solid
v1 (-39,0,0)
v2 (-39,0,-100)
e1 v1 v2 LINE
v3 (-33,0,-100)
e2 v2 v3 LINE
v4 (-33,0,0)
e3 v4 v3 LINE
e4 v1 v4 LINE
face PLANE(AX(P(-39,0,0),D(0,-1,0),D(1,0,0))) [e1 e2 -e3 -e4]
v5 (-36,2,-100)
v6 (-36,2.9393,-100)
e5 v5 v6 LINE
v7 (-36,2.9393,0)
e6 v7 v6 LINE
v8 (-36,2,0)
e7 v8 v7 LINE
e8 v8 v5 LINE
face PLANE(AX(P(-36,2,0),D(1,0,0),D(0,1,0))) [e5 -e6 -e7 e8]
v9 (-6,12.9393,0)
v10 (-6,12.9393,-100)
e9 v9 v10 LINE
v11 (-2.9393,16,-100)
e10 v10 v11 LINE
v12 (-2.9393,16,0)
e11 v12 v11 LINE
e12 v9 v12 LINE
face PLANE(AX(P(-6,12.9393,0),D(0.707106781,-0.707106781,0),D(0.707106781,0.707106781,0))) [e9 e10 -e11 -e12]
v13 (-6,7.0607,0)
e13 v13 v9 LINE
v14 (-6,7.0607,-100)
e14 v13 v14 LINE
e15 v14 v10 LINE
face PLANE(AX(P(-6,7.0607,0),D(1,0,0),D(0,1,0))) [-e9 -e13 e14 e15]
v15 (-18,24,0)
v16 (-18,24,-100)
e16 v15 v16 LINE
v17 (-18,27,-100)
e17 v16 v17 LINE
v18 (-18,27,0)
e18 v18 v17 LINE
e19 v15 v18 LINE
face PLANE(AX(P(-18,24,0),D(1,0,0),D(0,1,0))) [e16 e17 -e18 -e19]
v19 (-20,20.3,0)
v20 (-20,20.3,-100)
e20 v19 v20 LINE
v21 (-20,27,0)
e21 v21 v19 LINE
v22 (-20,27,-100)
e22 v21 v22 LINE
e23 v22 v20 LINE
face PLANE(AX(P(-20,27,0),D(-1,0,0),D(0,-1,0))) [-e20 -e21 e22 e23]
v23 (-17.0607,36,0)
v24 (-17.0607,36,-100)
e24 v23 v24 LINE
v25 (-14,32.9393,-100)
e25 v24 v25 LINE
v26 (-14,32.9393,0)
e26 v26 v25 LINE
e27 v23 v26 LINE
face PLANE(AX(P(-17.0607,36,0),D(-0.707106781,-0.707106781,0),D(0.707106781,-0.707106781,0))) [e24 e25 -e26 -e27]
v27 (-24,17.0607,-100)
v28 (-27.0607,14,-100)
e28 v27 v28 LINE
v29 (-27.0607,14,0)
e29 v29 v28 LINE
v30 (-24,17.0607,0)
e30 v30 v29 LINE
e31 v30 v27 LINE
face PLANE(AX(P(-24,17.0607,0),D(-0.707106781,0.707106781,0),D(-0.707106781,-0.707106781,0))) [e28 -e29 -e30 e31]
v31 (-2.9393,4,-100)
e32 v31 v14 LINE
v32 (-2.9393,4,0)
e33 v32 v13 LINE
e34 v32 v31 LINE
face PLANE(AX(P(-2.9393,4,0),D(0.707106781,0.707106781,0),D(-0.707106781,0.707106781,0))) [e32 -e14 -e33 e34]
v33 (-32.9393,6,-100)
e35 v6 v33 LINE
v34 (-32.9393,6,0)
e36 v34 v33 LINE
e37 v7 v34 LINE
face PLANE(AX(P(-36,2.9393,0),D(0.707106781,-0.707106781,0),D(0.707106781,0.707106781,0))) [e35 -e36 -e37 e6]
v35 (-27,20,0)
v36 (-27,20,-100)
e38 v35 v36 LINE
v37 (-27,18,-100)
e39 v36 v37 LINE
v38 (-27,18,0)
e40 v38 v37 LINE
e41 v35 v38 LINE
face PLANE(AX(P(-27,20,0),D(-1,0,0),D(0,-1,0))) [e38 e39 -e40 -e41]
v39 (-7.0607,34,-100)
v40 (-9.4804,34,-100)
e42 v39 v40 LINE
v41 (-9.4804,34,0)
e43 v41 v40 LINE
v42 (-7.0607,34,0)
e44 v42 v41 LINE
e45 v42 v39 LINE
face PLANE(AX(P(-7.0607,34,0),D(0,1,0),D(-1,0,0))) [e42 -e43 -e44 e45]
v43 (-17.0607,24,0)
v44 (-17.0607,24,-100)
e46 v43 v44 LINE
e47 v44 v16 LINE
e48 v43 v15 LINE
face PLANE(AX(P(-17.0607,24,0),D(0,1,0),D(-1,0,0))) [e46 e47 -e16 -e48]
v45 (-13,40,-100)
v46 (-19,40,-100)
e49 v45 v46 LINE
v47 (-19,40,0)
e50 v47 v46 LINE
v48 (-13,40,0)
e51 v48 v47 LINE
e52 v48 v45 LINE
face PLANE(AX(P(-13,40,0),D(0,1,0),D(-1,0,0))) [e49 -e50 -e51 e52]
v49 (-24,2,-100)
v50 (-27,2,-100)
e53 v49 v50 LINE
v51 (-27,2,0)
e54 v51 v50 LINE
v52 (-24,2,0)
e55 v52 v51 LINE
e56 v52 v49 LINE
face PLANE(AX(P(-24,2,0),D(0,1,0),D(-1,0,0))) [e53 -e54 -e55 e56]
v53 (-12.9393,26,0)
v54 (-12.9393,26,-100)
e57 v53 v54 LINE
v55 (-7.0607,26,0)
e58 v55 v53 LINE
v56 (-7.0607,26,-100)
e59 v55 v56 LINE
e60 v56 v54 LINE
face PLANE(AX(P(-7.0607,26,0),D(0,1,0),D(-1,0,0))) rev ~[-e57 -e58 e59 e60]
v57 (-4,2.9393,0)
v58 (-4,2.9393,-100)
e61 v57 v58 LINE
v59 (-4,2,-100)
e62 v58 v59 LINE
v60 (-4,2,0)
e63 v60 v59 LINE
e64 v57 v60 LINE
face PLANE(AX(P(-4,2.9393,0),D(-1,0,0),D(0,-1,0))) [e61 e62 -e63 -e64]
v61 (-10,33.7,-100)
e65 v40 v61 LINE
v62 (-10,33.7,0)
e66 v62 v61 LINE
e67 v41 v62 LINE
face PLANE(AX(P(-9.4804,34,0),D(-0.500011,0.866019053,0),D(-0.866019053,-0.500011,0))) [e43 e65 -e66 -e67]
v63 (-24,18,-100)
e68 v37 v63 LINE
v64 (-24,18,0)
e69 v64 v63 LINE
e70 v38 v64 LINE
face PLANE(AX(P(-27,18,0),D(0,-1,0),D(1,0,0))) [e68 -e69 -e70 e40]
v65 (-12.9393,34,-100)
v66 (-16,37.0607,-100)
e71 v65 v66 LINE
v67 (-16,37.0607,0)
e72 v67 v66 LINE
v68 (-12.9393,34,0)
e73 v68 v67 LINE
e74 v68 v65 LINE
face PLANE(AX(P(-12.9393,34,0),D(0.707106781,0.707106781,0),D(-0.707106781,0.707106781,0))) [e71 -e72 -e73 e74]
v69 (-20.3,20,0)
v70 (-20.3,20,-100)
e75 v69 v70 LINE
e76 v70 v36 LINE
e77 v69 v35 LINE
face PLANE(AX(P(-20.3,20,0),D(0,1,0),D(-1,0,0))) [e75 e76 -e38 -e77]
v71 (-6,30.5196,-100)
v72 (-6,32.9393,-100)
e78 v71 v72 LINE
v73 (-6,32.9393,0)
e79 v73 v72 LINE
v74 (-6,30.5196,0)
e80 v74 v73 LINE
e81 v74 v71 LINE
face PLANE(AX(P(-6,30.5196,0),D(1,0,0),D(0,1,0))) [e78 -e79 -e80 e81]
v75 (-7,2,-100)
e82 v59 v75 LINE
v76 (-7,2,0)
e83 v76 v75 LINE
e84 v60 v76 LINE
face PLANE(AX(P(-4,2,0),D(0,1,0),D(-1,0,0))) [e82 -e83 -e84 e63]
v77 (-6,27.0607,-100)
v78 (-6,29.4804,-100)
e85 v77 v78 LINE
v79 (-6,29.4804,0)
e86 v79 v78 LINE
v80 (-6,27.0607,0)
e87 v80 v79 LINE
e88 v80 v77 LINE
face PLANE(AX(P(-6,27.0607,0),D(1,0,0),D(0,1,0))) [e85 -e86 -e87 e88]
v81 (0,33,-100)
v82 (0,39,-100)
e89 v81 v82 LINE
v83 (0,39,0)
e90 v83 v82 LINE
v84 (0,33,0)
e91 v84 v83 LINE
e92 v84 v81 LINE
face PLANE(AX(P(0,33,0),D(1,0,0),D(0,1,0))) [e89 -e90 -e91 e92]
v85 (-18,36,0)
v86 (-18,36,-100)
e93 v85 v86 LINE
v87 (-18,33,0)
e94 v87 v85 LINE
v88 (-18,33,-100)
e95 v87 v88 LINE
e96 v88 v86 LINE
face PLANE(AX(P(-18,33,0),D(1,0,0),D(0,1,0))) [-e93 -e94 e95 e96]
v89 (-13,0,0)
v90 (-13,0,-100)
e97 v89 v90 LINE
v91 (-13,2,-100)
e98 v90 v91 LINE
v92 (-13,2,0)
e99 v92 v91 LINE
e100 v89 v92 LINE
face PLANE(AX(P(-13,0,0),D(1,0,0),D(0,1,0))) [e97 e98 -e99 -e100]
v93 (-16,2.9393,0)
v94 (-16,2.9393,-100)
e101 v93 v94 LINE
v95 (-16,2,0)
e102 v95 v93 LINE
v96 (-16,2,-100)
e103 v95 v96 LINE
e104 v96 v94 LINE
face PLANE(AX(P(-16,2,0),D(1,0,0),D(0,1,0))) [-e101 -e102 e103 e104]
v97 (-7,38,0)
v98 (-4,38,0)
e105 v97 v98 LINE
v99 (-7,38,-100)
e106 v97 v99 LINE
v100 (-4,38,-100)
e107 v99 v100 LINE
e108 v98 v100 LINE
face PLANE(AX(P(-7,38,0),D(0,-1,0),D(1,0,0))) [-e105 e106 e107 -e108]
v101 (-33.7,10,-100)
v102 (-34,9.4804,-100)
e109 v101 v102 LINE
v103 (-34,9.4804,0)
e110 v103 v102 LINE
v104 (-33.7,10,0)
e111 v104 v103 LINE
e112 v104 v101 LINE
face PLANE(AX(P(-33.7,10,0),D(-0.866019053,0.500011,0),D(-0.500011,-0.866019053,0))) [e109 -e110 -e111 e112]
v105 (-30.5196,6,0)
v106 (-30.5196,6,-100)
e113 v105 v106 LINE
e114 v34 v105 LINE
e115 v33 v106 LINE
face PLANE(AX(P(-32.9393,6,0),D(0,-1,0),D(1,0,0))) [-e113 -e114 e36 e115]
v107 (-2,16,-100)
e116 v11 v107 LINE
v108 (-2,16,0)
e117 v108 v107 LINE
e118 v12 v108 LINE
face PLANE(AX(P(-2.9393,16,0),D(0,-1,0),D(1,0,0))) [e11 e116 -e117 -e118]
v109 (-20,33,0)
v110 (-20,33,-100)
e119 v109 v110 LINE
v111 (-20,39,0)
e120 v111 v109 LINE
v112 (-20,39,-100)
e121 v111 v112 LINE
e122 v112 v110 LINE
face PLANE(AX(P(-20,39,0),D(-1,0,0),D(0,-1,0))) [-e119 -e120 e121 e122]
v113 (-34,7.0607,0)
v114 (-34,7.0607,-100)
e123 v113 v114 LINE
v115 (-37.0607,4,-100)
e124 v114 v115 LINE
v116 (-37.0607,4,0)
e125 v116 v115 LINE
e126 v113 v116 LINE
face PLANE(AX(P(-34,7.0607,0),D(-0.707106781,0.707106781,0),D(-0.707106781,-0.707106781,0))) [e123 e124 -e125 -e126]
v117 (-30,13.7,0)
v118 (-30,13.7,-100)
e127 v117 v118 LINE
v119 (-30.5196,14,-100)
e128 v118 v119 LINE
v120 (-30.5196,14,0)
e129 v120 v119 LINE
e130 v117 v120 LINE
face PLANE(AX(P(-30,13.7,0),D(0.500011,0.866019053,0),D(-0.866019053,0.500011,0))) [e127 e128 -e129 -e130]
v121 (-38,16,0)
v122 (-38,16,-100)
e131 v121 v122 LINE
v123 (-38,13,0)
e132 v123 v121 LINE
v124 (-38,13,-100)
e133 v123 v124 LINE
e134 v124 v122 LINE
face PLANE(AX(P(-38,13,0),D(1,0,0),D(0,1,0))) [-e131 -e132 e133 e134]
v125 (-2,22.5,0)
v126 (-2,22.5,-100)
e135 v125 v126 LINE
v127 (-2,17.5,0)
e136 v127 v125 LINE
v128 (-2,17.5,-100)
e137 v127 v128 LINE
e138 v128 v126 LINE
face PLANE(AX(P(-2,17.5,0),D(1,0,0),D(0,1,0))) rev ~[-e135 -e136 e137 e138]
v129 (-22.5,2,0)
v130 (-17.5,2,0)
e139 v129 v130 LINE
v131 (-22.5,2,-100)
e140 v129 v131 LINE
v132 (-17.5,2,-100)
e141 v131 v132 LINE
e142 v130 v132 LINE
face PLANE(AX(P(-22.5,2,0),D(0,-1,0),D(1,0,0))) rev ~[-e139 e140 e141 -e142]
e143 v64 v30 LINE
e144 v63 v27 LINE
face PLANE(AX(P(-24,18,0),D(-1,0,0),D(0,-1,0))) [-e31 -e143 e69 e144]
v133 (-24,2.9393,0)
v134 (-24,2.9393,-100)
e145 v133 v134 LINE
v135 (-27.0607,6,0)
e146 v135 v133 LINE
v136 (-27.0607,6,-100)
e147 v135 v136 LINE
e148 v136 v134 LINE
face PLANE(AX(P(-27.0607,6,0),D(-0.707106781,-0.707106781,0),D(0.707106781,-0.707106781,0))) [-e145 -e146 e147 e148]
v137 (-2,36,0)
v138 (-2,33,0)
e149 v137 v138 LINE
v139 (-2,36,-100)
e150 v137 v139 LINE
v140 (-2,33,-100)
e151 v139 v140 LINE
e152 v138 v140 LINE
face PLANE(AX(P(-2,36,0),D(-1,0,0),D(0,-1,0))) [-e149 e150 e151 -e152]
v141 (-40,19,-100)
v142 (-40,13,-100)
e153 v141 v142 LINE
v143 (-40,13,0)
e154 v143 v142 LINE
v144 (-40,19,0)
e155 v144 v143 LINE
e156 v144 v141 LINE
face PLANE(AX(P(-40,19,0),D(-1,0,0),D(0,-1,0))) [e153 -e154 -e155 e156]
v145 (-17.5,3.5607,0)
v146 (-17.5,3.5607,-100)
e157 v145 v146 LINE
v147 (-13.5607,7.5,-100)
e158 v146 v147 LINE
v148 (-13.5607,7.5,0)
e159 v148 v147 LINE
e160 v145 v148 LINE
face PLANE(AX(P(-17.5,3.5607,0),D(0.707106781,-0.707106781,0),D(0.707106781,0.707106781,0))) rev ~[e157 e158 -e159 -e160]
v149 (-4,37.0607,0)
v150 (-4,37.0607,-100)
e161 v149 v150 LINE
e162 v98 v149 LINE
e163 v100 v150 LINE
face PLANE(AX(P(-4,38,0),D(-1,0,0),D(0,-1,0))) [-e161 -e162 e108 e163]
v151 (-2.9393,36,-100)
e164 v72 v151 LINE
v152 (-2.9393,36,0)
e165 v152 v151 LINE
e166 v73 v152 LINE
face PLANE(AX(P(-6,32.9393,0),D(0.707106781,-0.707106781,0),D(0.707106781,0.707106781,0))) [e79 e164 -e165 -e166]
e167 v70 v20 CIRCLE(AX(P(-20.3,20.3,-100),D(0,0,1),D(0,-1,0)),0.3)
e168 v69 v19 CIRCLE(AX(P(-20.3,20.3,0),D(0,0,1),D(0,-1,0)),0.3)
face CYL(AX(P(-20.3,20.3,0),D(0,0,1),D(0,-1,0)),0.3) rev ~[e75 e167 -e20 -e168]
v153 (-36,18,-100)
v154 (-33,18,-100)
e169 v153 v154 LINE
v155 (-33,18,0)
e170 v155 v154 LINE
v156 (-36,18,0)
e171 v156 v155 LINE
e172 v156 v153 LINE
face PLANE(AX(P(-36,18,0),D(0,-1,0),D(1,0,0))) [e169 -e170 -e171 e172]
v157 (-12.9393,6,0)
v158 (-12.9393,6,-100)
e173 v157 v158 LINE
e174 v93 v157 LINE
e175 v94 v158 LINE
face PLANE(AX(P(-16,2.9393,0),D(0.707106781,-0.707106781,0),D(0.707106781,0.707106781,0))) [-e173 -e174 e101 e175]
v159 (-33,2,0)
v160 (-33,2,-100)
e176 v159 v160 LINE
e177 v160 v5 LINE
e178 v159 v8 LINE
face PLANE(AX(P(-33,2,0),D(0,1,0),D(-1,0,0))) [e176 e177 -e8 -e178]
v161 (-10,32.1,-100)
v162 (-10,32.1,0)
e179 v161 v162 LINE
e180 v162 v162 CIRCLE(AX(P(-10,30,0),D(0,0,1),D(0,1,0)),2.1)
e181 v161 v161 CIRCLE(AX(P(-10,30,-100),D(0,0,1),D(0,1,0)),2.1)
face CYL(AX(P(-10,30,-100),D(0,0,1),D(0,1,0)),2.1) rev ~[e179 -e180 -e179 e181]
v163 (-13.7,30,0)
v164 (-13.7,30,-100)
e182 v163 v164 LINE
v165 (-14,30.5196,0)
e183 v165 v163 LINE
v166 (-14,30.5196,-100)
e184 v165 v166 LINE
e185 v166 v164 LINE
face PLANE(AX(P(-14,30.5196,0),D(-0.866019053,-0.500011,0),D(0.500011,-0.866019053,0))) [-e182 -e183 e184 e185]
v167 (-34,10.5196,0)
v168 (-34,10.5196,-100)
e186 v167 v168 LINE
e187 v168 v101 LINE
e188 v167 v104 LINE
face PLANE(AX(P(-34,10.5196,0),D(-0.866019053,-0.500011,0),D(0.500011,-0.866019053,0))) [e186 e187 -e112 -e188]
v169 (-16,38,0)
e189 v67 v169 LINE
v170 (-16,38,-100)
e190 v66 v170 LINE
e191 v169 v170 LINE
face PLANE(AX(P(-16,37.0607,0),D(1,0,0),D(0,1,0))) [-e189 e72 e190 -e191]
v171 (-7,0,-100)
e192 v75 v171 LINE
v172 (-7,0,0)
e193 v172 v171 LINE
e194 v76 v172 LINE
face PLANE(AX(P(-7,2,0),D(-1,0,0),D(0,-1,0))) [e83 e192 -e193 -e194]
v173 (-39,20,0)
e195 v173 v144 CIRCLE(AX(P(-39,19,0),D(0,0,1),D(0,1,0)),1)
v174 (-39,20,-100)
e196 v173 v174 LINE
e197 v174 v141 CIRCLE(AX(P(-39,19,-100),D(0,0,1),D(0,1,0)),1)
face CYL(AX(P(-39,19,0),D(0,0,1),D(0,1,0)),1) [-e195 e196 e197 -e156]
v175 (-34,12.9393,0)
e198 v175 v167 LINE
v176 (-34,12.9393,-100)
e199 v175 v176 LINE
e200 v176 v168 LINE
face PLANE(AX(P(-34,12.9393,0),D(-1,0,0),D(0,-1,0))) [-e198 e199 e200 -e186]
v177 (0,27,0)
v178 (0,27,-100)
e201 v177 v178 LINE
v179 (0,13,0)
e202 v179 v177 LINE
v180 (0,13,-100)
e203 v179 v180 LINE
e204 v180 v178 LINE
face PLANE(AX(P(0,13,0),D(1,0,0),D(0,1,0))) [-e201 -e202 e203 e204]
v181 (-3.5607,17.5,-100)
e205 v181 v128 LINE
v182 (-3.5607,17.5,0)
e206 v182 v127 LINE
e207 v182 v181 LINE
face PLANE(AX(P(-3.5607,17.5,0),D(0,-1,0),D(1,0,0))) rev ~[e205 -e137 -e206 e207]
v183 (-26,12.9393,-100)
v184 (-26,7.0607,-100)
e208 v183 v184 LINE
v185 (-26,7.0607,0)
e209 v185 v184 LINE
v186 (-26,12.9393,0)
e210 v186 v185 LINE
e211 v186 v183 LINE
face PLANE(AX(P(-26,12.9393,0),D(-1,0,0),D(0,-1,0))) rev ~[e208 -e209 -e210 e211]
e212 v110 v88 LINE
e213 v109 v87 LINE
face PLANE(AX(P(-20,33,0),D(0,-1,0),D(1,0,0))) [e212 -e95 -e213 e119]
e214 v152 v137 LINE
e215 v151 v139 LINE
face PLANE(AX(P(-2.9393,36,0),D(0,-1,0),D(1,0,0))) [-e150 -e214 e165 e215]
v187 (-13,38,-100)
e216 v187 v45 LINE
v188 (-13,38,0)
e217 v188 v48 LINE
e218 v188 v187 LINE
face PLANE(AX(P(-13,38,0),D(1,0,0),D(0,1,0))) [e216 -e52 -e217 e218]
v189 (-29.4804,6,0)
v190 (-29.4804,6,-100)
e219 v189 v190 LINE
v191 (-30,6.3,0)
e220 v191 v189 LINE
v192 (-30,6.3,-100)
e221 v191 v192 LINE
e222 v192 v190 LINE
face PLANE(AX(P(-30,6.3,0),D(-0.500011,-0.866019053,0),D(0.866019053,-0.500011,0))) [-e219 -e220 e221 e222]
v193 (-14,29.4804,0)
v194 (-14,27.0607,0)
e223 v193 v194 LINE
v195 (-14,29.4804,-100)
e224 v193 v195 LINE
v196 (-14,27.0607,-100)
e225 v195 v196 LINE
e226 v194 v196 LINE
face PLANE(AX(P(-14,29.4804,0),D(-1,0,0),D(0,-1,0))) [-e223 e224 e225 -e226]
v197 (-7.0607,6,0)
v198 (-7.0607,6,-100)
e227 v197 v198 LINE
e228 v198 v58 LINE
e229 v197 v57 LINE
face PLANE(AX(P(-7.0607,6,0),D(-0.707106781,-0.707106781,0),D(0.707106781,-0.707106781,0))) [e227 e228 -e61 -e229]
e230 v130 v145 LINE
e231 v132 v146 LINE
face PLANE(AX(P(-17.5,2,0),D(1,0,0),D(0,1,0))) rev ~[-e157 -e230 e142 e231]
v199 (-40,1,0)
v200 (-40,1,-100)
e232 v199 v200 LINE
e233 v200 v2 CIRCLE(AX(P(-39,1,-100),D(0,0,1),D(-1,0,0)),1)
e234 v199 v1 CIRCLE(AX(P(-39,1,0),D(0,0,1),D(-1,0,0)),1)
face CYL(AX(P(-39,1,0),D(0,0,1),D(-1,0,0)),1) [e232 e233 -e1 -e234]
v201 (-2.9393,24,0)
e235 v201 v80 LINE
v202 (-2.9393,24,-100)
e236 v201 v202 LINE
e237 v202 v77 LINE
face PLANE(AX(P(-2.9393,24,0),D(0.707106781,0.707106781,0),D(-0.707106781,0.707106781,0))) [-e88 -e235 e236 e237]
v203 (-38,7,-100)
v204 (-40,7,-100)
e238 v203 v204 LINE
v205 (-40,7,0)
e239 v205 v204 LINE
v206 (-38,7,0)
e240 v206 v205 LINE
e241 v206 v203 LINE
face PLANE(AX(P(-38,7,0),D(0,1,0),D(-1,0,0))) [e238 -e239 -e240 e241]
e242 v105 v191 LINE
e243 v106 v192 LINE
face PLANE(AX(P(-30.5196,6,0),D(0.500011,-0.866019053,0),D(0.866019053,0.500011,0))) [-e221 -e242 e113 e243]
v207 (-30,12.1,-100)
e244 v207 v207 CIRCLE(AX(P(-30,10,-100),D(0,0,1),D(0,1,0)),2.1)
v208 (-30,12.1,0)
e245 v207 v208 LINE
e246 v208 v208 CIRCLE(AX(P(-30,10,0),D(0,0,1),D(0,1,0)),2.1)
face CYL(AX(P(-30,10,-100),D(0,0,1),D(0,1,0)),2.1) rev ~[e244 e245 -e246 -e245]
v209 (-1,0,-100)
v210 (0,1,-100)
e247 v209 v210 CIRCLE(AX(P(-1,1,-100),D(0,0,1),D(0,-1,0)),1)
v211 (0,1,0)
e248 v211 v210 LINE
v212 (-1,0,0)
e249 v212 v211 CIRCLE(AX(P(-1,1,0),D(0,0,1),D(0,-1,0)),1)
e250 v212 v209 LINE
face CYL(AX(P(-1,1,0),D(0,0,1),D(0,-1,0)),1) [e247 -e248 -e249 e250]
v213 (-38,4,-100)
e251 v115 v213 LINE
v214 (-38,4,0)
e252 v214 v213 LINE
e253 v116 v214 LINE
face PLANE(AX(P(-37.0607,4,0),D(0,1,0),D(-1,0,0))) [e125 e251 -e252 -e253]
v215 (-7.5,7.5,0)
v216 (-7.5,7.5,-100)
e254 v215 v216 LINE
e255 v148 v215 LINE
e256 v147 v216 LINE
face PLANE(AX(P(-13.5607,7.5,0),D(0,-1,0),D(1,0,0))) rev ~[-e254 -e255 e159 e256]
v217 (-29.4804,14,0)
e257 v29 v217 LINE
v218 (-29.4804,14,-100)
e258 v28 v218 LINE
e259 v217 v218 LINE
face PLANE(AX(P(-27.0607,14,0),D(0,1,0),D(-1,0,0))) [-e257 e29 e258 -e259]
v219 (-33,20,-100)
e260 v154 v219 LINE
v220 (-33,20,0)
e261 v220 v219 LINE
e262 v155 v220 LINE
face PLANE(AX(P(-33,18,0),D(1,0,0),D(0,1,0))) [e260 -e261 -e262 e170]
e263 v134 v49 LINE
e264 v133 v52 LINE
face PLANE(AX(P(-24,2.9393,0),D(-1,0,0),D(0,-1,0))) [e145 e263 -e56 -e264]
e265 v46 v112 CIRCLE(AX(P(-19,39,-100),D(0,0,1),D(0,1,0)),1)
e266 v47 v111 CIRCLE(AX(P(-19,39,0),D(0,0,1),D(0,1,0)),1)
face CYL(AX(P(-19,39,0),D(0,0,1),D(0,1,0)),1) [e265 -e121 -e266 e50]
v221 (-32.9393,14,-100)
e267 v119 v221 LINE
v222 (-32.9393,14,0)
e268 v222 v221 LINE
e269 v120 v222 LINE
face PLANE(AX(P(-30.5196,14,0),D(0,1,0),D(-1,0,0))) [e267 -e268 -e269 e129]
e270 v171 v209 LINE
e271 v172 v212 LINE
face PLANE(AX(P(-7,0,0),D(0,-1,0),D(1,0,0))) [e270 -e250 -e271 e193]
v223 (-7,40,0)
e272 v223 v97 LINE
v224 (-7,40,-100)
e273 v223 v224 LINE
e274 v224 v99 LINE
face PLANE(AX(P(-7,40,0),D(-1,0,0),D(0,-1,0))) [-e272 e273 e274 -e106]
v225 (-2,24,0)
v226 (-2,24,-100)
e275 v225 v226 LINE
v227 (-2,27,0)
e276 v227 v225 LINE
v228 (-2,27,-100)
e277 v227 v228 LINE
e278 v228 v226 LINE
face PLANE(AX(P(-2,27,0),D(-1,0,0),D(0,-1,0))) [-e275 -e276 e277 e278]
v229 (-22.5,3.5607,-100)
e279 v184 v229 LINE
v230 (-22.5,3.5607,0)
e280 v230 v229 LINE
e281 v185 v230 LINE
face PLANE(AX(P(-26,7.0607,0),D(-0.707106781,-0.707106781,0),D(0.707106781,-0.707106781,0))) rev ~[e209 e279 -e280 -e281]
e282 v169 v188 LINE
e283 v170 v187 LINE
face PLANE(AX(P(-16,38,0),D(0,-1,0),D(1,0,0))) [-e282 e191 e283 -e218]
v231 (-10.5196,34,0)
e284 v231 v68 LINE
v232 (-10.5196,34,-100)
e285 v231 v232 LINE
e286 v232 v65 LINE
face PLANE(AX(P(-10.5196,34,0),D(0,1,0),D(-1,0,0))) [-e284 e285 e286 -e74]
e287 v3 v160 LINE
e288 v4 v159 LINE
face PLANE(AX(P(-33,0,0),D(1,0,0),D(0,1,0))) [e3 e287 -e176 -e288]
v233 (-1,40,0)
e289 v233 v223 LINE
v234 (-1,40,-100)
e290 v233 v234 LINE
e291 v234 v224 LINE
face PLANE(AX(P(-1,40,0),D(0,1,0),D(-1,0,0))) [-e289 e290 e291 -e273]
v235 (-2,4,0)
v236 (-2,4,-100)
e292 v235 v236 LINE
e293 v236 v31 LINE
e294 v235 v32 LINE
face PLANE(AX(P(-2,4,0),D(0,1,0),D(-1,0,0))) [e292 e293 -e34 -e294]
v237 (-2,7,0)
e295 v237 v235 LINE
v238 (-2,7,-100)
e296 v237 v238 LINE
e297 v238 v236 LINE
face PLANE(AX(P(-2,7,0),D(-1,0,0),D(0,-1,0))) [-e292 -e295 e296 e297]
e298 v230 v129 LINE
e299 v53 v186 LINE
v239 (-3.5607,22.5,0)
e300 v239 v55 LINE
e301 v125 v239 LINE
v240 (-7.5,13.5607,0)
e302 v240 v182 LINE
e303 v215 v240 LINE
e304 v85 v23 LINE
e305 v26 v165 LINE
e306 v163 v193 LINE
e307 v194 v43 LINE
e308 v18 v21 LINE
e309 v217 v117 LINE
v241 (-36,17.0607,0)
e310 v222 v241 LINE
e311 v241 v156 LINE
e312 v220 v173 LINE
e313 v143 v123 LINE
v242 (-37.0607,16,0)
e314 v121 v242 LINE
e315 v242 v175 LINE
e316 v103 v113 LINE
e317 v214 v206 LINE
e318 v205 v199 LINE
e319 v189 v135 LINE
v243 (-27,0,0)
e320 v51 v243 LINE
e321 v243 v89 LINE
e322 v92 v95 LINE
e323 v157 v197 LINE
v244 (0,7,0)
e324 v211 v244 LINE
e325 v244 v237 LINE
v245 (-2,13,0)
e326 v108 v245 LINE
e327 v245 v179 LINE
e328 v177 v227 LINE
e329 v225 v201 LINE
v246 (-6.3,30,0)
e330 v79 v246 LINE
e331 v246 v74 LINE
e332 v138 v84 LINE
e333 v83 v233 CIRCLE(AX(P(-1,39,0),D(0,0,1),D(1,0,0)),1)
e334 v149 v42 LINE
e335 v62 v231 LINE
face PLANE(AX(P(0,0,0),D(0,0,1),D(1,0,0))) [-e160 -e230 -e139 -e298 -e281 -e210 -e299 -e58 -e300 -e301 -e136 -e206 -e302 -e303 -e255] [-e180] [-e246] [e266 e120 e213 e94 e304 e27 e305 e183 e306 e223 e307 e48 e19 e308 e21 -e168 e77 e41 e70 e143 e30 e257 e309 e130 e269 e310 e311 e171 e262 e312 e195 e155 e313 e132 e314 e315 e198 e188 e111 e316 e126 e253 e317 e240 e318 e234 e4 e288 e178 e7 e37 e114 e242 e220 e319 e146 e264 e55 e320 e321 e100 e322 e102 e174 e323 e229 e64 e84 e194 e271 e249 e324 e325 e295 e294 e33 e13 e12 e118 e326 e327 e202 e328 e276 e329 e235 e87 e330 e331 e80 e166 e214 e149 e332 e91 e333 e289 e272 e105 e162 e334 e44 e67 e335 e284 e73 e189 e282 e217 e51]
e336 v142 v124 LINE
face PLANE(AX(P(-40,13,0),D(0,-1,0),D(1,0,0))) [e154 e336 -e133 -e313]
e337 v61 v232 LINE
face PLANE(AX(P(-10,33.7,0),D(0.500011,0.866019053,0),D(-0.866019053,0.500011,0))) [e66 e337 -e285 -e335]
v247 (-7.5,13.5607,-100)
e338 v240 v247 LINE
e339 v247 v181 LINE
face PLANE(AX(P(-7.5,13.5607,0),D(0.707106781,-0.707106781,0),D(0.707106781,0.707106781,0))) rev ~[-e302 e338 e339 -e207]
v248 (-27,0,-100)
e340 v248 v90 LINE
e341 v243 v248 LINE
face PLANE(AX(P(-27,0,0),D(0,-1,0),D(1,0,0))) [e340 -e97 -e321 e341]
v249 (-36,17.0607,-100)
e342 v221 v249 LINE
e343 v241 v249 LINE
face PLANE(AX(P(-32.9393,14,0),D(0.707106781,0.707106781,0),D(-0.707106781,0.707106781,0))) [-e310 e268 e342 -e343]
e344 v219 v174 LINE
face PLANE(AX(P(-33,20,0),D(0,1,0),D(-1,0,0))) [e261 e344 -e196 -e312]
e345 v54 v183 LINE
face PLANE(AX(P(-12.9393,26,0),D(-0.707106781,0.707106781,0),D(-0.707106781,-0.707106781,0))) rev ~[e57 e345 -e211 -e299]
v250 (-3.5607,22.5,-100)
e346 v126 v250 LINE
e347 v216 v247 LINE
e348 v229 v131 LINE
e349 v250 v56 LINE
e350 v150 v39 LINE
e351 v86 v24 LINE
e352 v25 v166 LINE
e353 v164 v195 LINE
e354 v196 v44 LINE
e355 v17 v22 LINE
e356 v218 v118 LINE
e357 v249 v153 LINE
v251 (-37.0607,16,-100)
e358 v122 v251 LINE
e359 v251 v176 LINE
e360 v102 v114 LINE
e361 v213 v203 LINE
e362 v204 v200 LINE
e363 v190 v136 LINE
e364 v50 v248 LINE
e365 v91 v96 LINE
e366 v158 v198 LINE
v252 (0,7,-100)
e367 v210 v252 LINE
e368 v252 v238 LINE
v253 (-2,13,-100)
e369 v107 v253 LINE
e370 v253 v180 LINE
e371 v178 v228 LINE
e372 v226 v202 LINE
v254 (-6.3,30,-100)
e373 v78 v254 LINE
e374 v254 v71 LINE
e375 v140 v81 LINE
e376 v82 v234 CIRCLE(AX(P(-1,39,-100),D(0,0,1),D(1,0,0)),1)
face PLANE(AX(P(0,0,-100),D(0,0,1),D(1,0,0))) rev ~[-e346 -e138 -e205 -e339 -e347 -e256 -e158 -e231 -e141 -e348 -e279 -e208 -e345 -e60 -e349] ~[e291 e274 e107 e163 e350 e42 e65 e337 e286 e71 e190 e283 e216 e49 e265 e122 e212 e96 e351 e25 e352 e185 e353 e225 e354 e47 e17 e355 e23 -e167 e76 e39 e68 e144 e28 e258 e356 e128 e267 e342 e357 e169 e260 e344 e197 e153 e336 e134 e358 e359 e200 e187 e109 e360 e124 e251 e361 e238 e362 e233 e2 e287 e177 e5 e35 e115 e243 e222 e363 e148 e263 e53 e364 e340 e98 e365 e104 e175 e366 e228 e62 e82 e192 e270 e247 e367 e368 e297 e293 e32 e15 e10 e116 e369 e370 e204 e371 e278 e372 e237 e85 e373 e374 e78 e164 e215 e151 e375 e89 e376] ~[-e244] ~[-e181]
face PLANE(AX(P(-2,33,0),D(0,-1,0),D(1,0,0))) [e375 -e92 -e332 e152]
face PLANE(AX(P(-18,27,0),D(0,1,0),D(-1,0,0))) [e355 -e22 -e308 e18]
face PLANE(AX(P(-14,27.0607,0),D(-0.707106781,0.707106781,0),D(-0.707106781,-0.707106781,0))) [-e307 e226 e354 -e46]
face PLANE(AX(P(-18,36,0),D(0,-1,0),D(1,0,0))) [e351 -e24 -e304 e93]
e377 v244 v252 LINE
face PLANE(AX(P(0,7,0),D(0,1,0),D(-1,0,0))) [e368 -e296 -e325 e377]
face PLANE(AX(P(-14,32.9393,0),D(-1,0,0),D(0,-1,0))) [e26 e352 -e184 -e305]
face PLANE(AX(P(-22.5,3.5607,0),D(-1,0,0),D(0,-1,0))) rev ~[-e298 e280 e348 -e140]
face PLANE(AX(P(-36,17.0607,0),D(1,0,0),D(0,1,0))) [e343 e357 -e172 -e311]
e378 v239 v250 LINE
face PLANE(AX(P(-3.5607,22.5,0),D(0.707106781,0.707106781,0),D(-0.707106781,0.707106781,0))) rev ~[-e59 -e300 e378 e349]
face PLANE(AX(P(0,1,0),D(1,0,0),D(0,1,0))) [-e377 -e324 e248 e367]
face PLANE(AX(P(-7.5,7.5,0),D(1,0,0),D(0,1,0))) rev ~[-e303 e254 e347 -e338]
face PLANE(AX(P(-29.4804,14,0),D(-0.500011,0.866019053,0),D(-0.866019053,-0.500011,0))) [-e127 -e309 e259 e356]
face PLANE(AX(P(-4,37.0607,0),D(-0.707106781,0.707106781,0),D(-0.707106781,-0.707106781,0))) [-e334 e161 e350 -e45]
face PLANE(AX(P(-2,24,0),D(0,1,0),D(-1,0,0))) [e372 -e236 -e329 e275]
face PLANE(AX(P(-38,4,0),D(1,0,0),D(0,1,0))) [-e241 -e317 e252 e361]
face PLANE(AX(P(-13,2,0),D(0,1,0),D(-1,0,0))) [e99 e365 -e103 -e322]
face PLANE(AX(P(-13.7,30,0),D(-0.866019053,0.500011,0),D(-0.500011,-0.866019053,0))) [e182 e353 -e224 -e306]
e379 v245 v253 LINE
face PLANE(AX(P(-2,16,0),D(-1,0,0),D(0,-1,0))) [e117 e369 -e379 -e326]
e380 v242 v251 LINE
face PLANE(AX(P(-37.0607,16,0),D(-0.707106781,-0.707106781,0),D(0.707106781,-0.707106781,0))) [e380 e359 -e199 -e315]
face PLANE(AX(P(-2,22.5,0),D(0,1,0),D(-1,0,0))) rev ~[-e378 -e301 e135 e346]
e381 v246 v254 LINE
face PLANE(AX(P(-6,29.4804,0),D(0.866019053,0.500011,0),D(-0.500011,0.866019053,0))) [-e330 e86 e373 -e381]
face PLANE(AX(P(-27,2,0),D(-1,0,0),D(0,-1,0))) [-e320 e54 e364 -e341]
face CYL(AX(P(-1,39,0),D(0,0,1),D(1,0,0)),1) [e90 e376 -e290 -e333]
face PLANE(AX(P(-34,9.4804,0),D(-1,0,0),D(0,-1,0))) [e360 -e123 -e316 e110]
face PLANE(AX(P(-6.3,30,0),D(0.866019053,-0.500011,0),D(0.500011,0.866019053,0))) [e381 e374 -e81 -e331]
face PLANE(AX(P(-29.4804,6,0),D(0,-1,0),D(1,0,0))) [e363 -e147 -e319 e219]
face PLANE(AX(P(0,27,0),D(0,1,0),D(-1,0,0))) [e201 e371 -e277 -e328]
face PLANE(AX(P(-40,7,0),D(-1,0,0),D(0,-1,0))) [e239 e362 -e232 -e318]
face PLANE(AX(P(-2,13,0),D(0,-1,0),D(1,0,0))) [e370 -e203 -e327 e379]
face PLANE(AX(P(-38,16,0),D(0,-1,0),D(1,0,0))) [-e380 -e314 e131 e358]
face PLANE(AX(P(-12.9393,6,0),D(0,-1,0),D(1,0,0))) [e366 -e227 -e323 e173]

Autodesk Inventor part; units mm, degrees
ref_plane "YZ Plane" through (0, 0, 0) normal (1, 0, 0) x (0, 1, 0)
ref_plane "XZ Plane" through (0, 0, 0) normal (0, 1, 0) x (-1, 0, 0)
ref_plane "XY Plane" through (0, 0, 0) normal (0, 0, 1) x (1, 0, 0)
sketch "Sketch_1" plane through (0, 0, 0) normal (0, 0, 1) x (1, 0, 0)
  line L0 (-40, 7) -> (-40, 1)
  arc A0 (-40, 1) -> (-39, 0) centre (-39, 1) ccw
  line L1 (-39, 0) -> (-33, 0)
  line L2 (-33, 0) -> (-33, 2)
  line L3 (-33, 2) -> (-36, 2)
  line L4 (-36, 2) -> (-36, 2.9393)
  line L5 (-36, 2.9393) -> (-32.9393, 6)
  line L6 (-32.9393, 6) -> (-30.5196, 6)
  line L7 (-30.5196, 6) -> (-30, 6.3)
  line L8 (-30, 6.3) -> (-29.4804, 6)
  line L9 (-29.4804, 6) -> (-27.0607, 6)
  line L10 (-27.0607, 6) -> (-24, 2.9393)
  line L11 (-24, 2.9393) -> (-24, 2)
  line L12 (-24, 2) -> (-27, 2)
  line L13 (-27, 2) -> (-27, 0)
  line L14 (-27, 0) -> (-13, 0)
  line L15 (-13, 0) -> (-13, 2)
  line L16 (-13, 2) -> (-16, 2)
  line L17 (-16, 2) -> (-16, 2.9393)
  line L18 (-16, 2.9393) -> (-12.9393, 6)
  line L19 (-12.9393, 6) -> (-7.0607, 6)
  line L20 (-7.0607, 6) -> (-4, 2.9393)
  line L21 (-4, 2.9393) -> (-4, 2)
  line L22 (-4, 2) -> (-7, 2)
  line L23 (-7, 2) -> (-7, 0)
  line L24 (-7, 0) -> (-1, 0)
  arc A1 (-1, 0) -> (0, 1) centre (-1, 1) ccw
  line L25 (0, 1) -> (0, 7)
  line L26 (0, 7) -> (-2, 7)
  line L27 (-2, 7) -> (-2, 4)
  line L28 (-2, 4) -> (-2.9393, 4)
  line L29 (-2.9393, 4) -> (-6, 7.0607)
  line L30 (-6, 7.0607) -> (-6, 12.9393)
  line L31 (-6, 12.9393) -> (-2.9393, 16)
  line L32 (-2.9393, 16) -> (-2, 16)
  line L33 (-2, 16) -> (-2, 13)
  line L34 (-2, 13) -> (0, 13)
  line L35 (0, 13) -> (0, 27)
  line L36 (0, 27) -> (-2, 27)
  line L37 (-2, 27) -> (-2, 24)
  line L38 (-2, 24) -> (-2.9393, 24)
  line L39 (-2.9393, 24) -> (-6, 27.0607)
  line L40 (-6, 27.0607) -> (-6, 29.4804)
  line L41 (-6, 29.4804) -> (-6.3, 30)
  line L42 (-6.3, 30) -> (-6, 30.5196)
  line L43 (-6, 30.5196) -> (-6, 32.9393)
  line L44 (-6, 32.9393) -> (-2.9393, 36)
  line L45 (-2.9393, 36) -> (-2, 36)
  line L46 (-2, 36) -> (-2, 33)
  line L47 (-2, 33) -> (0, 33)
  line L48 (0, 33) -> (0, 39)
  arc A2 (0, 39) -> (-1, 40) centre (-1, 39) ccw
  line L49 (-1, 40) -> (-7, 40)
  line L50 (-7, 40) -> (-7, 38)
  line L51 (-7, 38) -> (-4, 38)
  line L52 (-4, 38) -> (-4, 37.0607)
  line L53 (-4, 37.0607) -> (-7.0607, 34)
  line L54 (-7.0607, 34) -> (-9.4804, 34)
  line L55 (-9.4804, 34) -> (-10, 33.7)
  line L56 (-10, 33.7) -> (-10.5196, 34)
  line L57 (-10.5196, 34) -> (-12.9393, 34)
  line L58 (-12.9393, 34) -> (-16, 37.0607)
  line L59 (-16, 37.0607) -> (-16, 38)
  line L60 (-16, 38) -> (-13, 38)
  line L61 (-13, 38) -> (-13, 40)
  line L62 (-13, 40) -> (-19, 40)
  arc A3 (-19, 40) -> (-20, 39) centre (-19, 39) ccw
  line L63 (-20, 39) -> (-20, 33)
  line L64 (-20, 33) -> (-18, 33)
  line L65 (-18, 33) -> (-18, 36)
  line L66 (-18, 36) -> (-17.0607, 36)
  line L67 (-17.0607, 36) -> (-14, 32.9393)
  line L68 (-14, 32.9393) -> (-14, 30.5196)
  line L69 (-14, 30.5196) -> (-13.7, 30)
  line L70 (-13.7, 30) -> (-14, 29.4804)
  line L71 (-14, 29.4804) -> (-14, 27.0607)
  line L72 (-14, 27.0607) -> (-17.0607, 24)
  line L73 (-17.0607, 24) -> (-18, 24)
  line L74 (-18, 24) -> (-18, 27)
  line L75 (-18, 27) -> (-20, 27)
  line L76 (-20, 27) -> (-20, 20.3)
  arc A4 (-20.3, 20) -> (-20, 20.3) centre (-20.3, 20.3) ccw
  line L77 (-20.3, 20) -> (-27, 20)
  line L78 (-27, 20) -> (-27, 18)
  line L79 (-27, 18) -> (-24, 18)
  line L80 (-24, 18) -> (-24, 17.0607)
  line L81 (-24, 17.0607) -> (-27.0607, 14)
  line L82 (-27.0607, 14) -> (-29.4804, 14)
  line L83 (-29.4804, 14) -> (-30, 13.7)
  line L84 (-30, 13.7) -> (-30.5196, 14)
  line L85 (-30.5196, 14) -> (-32.9393, 14)
  line L86 (-32.9393, 14) -> (-36, 17.0607)
  line L87 (-36, 17.0607) -> (-36, 18)
  line L88 (-36, 18) -> (-33, 18)
  line L89 (-33, 18) -> (-33, 20)
  line L90 (-33, 20) -> (-39, 20)
  arc A5 (-39, 20) -> (-40, 19) centre (-39, 19) ccw
  line L91 (-40, 19) -> (-40, 13)
  line L92 (-40, 13) -> (-38, 13)
  line L93 (-38, 13) -> (-38, 16)
  line L94 (-38, 16) -> (-37.0607, 16)
  line L95 (-37.0607, 16) -> (-34, 12.9393)
  line L96 (-34, 12.9393) -> (-34, 10.5196)
  line L97 (-34, 10.5196) -> (-33.7, 10)
  line L98 (-33.7, 10) -> (-34, 9.4804)
  line L99 (-34, 9.4804) -> (-34, 7.0607)
  line L100 (-34, 7.0607) -> (-37.0607, 4)
  line L101 (-37.0607, 4) -> (-38, 4)
  line L102 (-38, 4) -> (-38, 7)
  line L103 (-38, 7) -> (-40, 7)
  line L104 (-26, 12.9393) -> (-26, 7.0607)
  line L105 (-26, 7.0607) -> (-22.5, 3.5607)
  line L106 (-22.5, 3.5607) -> (-22.5, 2)
  line L107 (-22.5, 2) -> (-17.5, 2)
  line L108 (-17.5, 2) -> (-17.5, 3.5607)
  line L109 (-17.5, 3.5607) -> (-13.5607, 7.5)
  line L110 (-13.5607, 7.5) -> (-7.5, 7.5)
  line L111 (-7.5, 7.5) -> (-7.5, 13.5607)
  line L112 (-7.5, 13.5607) -> (-3.5607, 17.5)
  line L113 (-3.5607, 17.5) -> (-2, 17.5)
  line L114 (-2, 17.5) -> (-2, 22.5)
  line L115 (-2, 22.5) -> (-3.5607, 22.5)
  line L116 (-3.5607, 22.5) -> (-7.0607, 26)
  line L117 (-7.0607, 26) -> (-12.9393, 26)
  line L118 (-12.9393, 26) -> (-26, 12.9393)
extrude "Extrusion1" add sketch "Sketch_1" against normal blind 100
sketch "Sketch2" plane through (0, 0, -100) normal (0, 0, -1) x (-1, 0, 0)
  point P0 (10, 30)
hole "Hole1" at (-10, 30, -100) direction (0, 0, 1) diameter 4.2 depth 100
sketch "Sketch3" plane through (0, 0, -100) normal (0, 0, -1) x (-1, 0, 0)
  point P0 (30, 10)
hole "Hole2" at (-30, 10, -100) direction (0, 0, 1) diameter 4.2 depth 100
properties part number "HFS5-404020-100" material "Aluminum 6061"
